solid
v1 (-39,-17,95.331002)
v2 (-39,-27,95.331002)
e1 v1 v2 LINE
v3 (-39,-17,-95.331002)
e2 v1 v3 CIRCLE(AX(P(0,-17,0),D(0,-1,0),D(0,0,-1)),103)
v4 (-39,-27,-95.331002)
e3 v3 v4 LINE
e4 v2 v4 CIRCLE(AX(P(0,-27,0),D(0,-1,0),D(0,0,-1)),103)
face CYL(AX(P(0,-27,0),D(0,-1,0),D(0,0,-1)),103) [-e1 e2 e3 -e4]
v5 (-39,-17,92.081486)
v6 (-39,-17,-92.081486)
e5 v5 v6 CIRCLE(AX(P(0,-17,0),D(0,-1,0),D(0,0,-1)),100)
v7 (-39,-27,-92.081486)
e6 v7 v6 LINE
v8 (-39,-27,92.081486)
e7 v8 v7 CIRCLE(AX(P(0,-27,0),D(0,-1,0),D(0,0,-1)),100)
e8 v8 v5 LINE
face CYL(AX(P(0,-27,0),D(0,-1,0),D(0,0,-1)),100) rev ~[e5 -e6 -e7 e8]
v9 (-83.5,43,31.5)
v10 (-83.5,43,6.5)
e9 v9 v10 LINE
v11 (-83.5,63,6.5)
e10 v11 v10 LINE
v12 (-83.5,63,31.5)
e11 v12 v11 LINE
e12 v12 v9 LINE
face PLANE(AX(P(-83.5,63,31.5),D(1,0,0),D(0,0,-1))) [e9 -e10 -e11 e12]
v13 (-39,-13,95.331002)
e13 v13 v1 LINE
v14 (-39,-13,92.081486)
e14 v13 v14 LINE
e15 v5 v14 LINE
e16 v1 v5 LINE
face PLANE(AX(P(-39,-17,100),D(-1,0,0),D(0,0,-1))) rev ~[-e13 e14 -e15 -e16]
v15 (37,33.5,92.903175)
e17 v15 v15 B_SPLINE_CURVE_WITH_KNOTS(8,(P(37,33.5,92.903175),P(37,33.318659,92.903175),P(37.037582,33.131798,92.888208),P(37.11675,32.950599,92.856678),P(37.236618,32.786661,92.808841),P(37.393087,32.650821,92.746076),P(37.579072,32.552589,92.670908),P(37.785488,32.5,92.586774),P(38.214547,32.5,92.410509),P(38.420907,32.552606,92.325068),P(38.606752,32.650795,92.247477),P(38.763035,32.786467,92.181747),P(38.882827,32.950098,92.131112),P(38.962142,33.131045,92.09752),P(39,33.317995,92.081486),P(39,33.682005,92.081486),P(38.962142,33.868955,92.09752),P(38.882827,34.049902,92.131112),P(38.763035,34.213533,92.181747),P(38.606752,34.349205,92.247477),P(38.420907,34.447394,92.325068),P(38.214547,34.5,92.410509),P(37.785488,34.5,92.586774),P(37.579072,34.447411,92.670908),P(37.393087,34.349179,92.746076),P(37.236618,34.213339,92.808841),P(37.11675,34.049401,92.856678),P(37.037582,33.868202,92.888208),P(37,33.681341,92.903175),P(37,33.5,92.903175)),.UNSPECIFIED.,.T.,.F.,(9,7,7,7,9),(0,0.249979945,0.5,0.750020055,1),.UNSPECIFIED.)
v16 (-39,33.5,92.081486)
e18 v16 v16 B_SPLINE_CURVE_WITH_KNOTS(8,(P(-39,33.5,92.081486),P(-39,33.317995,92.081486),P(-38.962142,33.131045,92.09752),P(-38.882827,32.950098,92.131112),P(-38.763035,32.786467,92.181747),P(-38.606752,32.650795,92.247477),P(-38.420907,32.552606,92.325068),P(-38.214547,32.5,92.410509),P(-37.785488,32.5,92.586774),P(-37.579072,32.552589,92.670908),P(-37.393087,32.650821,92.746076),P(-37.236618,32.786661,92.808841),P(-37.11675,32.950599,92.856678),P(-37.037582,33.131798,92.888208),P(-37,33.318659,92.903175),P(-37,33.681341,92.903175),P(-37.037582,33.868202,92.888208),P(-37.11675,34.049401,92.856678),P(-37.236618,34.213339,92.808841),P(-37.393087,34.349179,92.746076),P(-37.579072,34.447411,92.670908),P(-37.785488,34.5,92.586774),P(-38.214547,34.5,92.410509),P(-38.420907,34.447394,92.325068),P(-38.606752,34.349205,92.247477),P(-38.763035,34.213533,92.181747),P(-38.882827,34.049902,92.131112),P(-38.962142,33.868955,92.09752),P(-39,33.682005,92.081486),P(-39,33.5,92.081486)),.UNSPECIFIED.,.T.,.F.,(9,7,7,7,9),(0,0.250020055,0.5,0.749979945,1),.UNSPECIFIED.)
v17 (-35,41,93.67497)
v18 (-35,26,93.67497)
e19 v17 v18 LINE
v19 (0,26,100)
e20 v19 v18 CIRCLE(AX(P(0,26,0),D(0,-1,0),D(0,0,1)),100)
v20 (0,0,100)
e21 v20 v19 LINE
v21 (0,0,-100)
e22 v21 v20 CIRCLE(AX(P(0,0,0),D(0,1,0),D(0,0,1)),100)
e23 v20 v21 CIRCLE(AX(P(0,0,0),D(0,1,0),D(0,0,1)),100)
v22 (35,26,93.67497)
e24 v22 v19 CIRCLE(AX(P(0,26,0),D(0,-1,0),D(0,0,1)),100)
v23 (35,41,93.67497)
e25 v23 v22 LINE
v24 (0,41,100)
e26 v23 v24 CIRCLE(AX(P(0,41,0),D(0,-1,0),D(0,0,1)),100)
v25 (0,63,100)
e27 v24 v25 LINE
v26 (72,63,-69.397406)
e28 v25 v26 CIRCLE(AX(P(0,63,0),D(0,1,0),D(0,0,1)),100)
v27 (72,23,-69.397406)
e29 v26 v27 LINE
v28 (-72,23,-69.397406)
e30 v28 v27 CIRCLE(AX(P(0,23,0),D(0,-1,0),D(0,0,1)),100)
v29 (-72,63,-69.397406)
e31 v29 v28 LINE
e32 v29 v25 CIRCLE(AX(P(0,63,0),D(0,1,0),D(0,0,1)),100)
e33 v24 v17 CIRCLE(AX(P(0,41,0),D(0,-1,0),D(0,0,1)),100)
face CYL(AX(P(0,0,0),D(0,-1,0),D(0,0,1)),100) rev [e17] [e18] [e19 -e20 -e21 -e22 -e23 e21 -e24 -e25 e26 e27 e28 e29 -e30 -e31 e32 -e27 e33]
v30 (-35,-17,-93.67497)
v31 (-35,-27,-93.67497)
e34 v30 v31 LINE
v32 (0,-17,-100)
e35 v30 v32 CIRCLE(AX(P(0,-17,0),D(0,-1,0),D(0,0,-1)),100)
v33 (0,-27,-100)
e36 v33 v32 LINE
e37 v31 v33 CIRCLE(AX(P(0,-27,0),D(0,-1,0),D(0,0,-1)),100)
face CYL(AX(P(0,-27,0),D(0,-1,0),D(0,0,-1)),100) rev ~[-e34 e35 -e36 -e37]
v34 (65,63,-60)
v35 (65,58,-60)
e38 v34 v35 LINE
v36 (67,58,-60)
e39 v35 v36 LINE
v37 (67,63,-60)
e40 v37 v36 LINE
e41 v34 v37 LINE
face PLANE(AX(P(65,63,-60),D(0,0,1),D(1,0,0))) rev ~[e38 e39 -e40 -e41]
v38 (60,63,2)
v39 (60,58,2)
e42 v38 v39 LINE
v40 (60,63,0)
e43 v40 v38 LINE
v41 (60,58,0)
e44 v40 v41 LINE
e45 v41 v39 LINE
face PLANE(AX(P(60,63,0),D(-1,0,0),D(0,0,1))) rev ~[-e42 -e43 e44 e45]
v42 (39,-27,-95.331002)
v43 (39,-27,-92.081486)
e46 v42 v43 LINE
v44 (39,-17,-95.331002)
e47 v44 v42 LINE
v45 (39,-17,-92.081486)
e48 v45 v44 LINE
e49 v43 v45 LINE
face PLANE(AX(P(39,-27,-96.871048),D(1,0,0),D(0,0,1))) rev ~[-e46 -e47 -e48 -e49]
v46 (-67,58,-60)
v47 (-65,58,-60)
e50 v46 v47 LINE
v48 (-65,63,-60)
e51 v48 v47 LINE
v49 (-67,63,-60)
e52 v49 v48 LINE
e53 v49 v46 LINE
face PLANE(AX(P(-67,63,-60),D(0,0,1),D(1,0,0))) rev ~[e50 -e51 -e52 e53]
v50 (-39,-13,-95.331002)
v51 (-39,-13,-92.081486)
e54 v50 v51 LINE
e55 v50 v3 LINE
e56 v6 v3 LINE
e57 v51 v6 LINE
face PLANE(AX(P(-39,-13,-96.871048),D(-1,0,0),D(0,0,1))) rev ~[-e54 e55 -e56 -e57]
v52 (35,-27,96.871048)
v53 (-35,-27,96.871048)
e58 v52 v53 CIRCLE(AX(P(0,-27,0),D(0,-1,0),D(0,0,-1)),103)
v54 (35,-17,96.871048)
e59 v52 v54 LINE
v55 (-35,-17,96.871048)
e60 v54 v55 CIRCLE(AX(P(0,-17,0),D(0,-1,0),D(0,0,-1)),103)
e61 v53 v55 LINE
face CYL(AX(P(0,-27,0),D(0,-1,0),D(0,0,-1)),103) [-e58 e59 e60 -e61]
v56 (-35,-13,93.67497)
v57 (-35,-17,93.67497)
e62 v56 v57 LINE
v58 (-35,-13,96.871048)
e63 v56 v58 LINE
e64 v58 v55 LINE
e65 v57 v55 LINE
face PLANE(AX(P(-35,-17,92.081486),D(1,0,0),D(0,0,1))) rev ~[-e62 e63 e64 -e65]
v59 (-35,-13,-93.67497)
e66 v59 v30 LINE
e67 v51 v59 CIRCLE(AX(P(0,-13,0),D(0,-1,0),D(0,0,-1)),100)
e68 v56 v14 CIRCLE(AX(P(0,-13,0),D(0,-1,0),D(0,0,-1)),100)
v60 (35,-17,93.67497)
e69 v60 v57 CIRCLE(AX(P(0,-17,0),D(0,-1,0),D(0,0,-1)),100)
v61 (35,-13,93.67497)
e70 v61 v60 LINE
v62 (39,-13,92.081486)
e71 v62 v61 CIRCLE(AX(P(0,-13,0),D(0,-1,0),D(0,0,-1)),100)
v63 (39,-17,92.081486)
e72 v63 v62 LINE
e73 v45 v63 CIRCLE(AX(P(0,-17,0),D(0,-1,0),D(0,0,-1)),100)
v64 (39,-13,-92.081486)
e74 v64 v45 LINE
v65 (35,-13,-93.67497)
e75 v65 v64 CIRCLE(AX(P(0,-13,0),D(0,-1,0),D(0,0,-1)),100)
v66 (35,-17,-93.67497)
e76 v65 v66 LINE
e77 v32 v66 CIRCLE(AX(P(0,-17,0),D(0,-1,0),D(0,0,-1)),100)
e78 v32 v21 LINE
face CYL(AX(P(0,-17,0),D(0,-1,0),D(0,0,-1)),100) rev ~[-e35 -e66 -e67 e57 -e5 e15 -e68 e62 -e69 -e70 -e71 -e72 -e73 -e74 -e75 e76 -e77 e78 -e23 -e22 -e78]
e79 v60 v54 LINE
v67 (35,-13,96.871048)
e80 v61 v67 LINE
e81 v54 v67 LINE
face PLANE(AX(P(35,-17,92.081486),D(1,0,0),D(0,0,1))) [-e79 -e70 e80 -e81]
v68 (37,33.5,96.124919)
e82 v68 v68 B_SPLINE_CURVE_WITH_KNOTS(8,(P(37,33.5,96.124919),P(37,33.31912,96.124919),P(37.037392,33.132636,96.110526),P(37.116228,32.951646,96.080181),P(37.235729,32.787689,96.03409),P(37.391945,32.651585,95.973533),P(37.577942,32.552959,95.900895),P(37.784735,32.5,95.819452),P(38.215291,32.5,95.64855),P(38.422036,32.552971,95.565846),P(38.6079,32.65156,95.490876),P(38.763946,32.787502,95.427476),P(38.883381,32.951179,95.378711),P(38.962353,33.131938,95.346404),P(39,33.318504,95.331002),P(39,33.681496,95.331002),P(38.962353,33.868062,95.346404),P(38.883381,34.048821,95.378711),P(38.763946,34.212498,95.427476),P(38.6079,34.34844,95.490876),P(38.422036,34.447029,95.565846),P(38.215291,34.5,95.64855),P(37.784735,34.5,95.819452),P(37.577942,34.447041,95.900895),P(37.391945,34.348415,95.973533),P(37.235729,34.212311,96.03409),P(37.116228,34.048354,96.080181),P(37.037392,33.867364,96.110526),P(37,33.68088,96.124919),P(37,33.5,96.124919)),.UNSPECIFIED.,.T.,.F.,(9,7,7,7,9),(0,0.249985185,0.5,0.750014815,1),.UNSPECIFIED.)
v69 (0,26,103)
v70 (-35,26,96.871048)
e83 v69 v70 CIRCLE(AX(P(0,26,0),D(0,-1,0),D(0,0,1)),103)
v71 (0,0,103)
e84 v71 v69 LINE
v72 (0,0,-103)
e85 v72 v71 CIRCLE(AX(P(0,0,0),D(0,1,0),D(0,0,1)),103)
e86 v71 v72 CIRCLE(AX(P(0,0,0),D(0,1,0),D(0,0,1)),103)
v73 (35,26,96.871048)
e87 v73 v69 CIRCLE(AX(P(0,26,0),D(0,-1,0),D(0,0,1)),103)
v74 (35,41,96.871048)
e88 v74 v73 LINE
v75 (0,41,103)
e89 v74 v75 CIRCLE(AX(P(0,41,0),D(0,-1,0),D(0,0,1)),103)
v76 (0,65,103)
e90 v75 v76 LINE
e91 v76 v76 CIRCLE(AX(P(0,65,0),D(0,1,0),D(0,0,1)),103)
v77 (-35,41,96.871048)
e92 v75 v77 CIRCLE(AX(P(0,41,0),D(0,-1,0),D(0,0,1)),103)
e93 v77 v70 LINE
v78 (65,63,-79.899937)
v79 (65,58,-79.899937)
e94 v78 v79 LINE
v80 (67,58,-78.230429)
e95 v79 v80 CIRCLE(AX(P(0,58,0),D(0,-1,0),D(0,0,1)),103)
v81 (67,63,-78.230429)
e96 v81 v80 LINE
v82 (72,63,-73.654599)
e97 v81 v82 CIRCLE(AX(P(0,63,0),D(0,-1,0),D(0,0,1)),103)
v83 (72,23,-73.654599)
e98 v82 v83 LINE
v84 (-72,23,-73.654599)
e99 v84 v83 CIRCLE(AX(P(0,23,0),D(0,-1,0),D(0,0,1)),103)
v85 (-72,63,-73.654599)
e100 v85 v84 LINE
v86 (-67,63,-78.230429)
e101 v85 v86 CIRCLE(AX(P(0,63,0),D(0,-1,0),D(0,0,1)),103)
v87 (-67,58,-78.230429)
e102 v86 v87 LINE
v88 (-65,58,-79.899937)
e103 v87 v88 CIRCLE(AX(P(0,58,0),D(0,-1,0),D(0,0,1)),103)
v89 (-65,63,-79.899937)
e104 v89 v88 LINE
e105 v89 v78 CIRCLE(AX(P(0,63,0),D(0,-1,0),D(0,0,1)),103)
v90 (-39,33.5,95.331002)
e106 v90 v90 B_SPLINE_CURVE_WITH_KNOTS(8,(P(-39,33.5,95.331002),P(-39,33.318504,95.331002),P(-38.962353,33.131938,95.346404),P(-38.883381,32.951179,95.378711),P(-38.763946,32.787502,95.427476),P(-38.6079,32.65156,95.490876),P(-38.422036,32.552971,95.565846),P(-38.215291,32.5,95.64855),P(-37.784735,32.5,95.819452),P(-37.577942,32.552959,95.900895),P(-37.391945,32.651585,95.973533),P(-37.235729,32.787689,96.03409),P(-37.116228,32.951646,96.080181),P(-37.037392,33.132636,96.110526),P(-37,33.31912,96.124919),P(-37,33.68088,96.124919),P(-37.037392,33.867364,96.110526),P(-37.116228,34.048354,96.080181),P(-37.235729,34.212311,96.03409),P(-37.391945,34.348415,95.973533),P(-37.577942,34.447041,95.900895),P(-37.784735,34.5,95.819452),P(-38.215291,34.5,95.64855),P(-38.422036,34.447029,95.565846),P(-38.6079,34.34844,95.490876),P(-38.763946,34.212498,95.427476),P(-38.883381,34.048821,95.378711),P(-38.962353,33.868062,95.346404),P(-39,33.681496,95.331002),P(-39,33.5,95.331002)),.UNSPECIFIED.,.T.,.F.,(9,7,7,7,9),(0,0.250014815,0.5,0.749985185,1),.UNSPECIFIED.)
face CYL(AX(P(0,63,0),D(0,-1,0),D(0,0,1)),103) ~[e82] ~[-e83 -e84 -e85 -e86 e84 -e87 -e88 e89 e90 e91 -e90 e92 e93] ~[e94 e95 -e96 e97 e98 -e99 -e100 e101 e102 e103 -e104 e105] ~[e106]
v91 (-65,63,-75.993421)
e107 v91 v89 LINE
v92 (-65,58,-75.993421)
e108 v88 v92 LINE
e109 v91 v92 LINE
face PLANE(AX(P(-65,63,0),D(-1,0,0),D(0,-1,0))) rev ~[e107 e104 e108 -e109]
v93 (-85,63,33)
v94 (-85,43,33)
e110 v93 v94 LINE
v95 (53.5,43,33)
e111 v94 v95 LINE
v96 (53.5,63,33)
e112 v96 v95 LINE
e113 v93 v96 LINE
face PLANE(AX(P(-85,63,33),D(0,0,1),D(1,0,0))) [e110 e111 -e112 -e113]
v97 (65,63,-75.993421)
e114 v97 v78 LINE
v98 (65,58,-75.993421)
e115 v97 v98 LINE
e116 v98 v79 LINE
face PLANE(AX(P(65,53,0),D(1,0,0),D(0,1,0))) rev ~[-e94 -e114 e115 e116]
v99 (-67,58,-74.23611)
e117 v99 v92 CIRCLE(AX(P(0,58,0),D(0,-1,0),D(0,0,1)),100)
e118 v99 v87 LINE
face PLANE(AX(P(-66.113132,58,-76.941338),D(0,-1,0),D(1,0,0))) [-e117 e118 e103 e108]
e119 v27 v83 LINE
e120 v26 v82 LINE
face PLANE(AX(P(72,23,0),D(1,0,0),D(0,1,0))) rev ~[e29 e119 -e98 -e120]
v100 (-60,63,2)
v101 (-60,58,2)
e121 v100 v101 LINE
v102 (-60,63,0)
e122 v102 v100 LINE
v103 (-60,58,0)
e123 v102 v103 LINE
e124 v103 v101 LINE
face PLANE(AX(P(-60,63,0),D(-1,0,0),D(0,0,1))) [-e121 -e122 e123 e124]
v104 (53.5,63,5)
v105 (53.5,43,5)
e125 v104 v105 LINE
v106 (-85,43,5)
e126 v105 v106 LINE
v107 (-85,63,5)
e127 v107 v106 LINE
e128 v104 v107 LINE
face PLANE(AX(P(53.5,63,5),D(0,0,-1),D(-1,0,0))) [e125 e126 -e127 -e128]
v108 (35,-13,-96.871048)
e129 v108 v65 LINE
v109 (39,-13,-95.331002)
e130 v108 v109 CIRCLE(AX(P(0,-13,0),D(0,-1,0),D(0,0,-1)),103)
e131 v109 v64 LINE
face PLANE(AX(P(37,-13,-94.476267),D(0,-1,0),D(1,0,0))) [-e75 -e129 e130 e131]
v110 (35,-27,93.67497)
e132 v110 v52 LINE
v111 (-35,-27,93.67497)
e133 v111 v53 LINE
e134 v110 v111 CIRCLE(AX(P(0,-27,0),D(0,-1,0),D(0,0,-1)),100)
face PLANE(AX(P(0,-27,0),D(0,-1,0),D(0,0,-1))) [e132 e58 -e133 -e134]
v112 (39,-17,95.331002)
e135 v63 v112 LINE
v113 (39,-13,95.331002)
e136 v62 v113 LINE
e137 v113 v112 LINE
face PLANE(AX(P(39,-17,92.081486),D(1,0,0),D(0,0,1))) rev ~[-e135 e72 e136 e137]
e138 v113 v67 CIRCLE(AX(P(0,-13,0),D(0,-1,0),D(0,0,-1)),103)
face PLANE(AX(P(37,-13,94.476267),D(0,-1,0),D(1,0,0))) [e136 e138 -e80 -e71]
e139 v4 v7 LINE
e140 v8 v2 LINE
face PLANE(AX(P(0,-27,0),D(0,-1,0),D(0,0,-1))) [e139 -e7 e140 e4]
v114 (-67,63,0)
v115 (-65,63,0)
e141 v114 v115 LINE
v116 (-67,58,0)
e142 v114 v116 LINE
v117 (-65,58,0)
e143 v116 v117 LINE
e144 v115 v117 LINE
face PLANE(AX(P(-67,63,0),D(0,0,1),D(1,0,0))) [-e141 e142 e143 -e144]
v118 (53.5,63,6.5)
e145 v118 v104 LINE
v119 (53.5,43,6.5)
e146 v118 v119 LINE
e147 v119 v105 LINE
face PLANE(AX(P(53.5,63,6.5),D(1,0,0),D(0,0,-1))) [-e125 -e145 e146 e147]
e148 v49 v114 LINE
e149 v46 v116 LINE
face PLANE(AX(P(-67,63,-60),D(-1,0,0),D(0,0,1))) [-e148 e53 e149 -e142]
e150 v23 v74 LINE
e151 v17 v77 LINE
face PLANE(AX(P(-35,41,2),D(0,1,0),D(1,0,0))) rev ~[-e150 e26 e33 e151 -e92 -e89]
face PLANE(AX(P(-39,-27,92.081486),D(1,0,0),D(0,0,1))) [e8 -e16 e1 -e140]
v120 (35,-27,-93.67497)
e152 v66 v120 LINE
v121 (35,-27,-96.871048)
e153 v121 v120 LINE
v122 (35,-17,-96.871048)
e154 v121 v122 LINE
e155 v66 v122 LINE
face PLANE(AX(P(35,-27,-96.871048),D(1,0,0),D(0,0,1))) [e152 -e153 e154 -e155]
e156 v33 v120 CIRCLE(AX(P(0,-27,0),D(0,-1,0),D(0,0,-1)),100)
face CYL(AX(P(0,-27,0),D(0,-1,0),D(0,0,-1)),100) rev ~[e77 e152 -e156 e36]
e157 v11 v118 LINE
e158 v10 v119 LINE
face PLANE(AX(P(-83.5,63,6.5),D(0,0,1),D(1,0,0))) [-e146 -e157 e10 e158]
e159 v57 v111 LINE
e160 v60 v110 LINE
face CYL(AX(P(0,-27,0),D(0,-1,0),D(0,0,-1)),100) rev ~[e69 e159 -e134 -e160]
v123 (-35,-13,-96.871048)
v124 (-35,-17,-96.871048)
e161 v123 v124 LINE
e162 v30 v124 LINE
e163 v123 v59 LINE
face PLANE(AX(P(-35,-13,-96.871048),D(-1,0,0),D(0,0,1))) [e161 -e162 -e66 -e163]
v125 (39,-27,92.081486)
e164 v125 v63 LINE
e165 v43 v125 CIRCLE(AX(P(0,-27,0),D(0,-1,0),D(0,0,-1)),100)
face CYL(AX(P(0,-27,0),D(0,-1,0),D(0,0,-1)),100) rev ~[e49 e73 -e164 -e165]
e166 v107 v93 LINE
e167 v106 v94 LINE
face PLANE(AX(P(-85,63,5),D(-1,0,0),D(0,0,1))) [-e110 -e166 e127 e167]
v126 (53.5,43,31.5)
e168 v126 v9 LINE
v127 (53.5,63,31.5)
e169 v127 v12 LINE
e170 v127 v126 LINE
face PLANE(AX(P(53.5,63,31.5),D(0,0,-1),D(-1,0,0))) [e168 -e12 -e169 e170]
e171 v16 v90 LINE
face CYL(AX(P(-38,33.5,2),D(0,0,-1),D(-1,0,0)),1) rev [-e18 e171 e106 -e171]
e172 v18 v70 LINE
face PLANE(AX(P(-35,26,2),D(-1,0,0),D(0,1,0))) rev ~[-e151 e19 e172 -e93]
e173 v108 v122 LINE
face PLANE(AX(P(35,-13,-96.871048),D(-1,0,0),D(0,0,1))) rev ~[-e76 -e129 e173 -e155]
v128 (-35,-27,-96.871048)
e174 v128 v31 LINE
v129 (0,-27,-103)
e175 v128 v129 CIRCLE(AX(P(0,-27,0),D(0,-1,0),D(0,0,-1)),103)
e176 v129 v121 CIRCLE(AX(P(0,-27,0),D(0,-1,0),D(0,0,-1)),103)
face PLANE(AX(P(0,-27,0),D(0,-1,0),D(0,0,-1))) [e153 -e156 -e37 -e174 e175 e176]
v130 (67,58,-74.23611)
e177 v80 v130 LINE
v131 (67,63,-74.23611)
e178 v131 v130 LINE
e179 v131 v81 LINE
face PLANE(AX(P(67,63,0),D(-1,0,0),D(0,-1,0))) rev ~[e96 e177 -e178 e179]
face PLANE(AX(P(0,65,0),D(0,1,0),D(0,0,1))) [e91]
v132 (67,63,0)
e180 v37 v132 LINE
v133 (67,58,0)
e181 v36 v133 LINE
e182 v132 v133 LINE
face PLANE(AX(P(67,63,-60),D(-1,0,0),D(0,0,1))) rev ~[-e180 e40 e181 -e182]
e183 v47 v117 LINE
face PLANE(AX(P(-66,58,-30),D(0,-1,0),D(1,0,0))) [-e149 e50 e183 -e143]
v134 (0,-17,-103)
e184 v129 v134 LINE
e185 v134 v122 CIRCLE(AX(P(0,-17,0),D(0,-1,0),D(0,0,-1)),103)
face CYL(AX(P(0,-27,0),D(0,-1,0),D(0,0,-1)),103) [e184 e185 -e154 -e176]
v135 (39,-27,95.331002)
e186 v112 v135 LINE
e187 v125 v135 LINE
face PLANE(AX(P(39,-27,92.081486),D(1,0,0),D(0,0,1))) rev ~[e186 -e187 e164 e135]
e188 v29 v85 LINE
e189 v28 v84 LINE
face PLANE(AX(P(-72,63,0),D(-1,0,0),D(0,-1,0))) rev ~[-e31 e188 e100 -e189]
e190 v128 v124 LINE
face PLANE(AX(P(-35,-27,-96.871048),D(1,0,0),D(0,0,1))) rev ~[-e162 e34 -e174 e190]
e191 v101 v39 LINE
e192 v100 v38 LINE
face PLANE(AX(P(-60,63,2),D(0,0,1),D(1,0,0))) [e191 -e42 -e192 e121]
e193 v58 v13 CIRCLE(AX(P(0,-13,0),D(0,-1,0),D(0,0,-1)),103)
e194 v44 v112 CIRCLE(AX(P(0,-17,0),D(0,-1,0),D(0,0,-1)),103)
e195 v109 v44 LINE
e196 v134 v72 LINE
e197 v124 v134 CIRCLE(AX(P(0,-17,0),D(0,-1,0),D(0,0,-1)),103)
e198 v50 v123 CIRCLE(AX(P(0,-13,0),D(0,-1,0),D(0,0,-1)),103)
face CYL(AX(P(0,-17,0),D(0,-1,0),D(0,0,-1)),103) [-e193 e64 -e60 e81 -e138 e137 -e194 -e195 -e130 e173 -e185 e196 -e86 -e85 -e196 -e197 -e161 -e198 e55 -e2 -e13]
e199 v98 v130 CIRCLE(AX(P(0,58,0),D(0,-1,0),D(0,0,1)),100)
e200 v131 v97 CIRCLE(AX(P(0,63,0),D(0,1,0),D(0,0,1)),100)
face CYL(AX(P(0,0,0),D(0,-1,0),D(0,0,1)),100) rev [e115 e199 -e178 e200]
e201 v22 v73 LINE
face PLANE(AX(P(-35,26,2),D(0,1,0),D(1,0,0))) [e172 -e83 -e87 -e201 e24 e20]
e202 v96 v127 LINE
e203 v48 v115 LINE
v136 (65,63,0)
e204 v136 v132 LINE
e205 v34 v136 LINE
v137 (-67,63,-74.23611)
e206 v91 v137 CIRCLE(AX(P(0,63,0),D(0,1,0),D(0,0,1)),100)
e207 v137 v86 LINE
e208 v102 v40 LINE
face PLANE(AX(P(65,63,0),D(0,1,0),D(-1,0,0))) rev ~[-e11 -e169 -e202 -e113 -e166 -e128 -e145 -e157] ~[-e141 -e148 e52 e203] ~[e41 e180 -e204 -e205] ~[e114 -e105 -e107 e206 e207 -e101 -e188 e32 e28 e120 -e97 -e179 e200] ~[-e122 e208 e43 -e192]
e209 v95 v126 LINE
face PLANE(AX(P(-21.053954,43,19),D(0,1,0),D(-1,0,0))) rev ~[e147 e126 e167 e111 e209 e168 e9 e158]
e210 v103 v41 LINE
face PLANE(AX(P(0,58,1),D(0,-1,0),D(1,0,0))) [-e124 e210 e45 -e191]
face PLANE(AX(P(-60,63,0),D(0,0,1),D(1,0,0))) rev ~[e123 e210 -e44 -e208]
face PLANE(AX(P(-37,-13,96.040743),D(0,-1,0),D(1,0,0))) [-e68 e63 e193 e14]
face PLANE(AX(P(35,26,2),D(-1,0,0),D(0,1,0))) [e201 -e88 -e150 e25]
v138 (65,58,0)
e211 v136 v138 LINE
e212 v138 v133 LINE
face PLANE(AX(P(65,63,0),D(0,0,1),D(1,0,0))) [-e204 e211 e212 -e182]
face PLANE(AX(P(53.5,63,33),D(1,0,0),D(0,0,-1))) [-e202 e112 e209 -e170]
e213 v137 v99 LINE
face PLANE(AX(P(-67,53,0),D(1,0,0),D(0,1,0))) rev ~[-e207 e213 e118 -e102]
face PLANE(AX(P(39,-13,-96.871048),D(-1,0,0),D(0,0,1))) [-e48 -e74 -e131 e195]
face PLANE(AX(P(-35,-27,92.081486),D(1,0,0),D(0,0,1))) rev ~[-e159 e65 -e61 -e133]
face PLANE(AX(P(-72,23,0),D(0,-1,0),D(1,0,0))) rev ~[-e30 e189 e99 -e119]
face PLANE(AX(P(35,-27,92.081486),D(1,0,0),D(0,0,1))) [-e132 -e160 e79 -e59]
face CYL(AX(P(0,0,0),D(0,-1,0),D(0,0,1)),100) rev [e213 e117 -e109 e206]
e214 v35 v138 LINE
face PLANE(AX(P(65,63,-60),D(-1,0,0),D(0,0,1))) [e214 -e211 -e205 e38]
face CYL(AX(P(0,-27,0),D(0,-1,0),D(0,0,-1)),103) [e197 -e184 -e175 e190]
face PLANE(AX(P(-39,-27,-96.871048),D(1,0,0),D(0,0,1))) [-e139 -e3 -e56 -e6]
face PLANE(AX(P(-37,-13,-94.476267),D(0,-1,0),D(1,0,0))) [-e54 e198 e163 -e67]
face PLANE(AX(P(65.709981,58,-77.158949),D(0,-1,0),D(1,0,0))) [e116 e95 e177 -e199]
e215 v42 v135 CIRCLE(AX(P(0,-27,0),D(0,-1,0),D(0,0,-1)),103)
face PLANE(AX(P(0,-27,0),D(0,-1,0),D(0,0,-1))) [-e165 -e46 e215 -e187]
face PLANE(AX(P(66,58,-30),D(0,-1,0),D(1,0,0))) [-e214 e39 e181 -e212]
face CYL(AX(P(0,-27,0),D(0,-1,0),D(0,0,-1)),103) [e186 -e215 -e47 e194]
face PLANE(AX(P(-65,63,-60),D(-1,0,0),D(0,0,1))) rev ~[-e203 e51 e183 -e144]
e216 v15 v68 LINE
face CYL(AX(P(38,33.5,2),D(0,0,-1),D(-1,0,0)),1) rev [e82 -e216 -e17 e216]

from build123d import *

# Parameters (mm, degrees)
SKETCH_1_R               = 103
SKETCH_1_R_2             = 100
EXTRUDE_1_DEPTH          = 63
SKETCH_2_R               = 103
EXTRUDE_2_DEPTH          = 2
SKETCH_4_W               = 2
SKETCH_4_H               = 60
SKETCH_4_W_2             = 120
SKETCH_4_H_2             = 2
EXTRUDE_3_DEPTH          = 10
SKETCH_5_R               = 1
SKETCH_5_W               = 70
SKETCH_5_H               = 15
CUT_EXTRUDE_1_DEPTH      = 1000
EXTRUDE_4_DEPTH          = 20
CUT_EXTRUDE_2_DEPTH      = 150
SKETCH_10_W              = 120
SKETCH_10_H              = 2
SKETCH_10_W_2            = 2
SKETCH_10_H_2            = 60
CUT_EXTRUDE_3_DEPTH      = 5
SKETCH_11_W              = 3.150152901
SKETCH_11_H              = 6.664382079
SKETCH_11_W_2            = 3.458582199
SKETCH_11_H_2            = 6.22916057
CUT_EXTRUDE_4_DEPTH      = 5
EXTRUDE_START            = 17
SKETCH_13_R              = 103
SKETCH_13_R_2            = 100
EXTRUDE_5_DEPTH          = 17
SKETCH_15_W              = 4
SKETCH_15_H              = 4.789562653
CUT_EXTRUDE_5_DEPTH      = 4
CUT_EXTRUDE_6_DEPTH      = 15
CUT_EXTRUDE_6_DEPTH_BACK = 4
SKETCH_16_W              = 4
SKETCH_16_H              = 4.789562653
EXTRUDE_START_2          = 10
SKETCH_18_R              = 103
SKETCH_18_R_2            = 100
EXTRUDE_6_DEPTH          = 10
SKETCH_19_W              = 4
SKETCH_19_H              = 4.789562653
CUT_EXTRUDE_7_DEPTH      = 10


with BuildPart() as part:
    # 草图1 → 凸台-拉伸1 (new body)
    with BuildSketch(Plane(origin=(0, 0, 0), x_dir=(1, 0, 0), z_dir=(0, 1, 0))):
        with Locations(Location((0, 0, 0), (0, 0, 270))):
            Circle(SKETCH_1_R)
        with Locations(Location((0, 0, 0), (0, 0, 270))):
            Circle(SKETCH_1_R_2, mode=Mode.SUBTRACT)
    extrude(amount=EXTRUDE_1_DEPTH)

    # 草图2 → 凸台-拉伸2 (add)
    with BuildSketch(Plane(origin=(0, 63, 0), x_dir=(1, 0, 0), z_dir=(0, 1, 0))):
        with Locations(Location((0, 0, 0), (0, 0, 270))):
            Circle(SKETCH_2_R)
    extrude(amount=EXTRUDE_2_DEPTH)

    # 草图4 → 凸台-拉伸3 (add)
    with BuildSketch(Plane.XZ.offset(-63)):
        with Locations((-66, -30)):
            Rectangle(SKETCH_4_W, SKETCH_4_H)
        with Locations((66, -30)):
            Rectangle(SKETCH_4_W, SKETCH_4_H)
        with Locations((0, 1)):
            Rectangle(SKETCH_4_W_2, SKETCH_4_H_2)
    extrude(amount=EXTRUDE_3_DEPTH)

    # 草图5 → 切除-拉伸1 (cut)
    with BuildSketch(Plane.XY.offset(2)):
        with Locations(Location((-38, 33.5, 0), (0, 0, 180))):
            Circle(SKETCH_5_R)
        with Locations(Location((38, 33.5, 0), (0, 0, 180))):
            Circle(SKETCH_5_R)
        with Locations((0, 33.5)):
            Rectangle(SKETCH_5_W, SKETCH_5_H)
    extrude(amount=CUT_EXTRUDE_1_DEPTH, mode=Mode.SUBTRACT)

    # 草图6 → 凸台-拉伸4 (add)
    with BuildSketch(Plane.XZ.offset(-63)):
        Polygon((-85, 5), (-85, 33), (53.5, 33), (53.5, 31.5), (-83.5, 31.5), (-83.5, 6.5), (53.5, 6.5), (53.5, 5), align=None)
    extrude(amount=EXTRUDE_4_DEPTH)

    # 草图7 → 切除-拉伸2 (cut)
    with BuildSketch(Plane(origin=(0, 0, 0), x_dir=(-1, 0, 0), z_dir=(0, 0, -1))):
        Polygon((-72, 63), (-67, 63), (-67, 53), (-65, 53), (-65, 63), (65, 63), (65, 53), (67, 53), (67, 63), (72, 63), (72, 23), (-72, 23), align=None)
    extrude(amount=CUT_EXTRUDE_2_DEPTH, mode=Mode.SUBTRACT)

    # 草图10 → 切除-拉伸3 (cut)
    with BuildSketch(Plane.XZ.offset(-53)):
        with Locations((0, 1)):
            Rectangle(SKETCH_10_W, SKETCH_10_H)
        with Locations((-66, -30)):
            Rectangle(SKETCH_10_W_2, SKETCH_10_H_2)
        with Locations((66, -30)):
            Rectangle(SKETCH_10_W_2, SKETCH_10_H_2)
    extrude(amount=-CUT_EXTRUDE_3_DEPTH, mode=Mode.SUBTRACT)

    # 草图11 → 切除-拉伸4 (cut)
    with BuildSketch(Plane.XZ.offset(-53)):
        with Locations((-66.11313156, -76.941337865)):
            Rectangle(SKETCH_11_W, SKETCH_11_H)
        with Locations((65.709980809, -77.158948619)):
            Rectangle(SKETCH_11_W_2, SKETCH_11_H_2)
    extrude(amount=-CUT_EXTRUDE_4_DEPTH, mode=Mode.SUBTRACT)

    # 草图13 → 凸台-拉伸5 (add)
    with BuildSketch(Plane.XZ.offset(EXTRUDE_START)):
        with Locations(Location((0, 0, 0), (0, 0, 270))):
            Circle(SKETCH_13_R)
        with Locations(Location((0, 0, 0), (0, 0, 270))):
            Circle(SKETCH_13_R_2, mode=Mode.SUBTRACT)
    extrude(amount=-EXTRUDE_5_DEPTH)

    # 草图15 → 切除-拉伸5 (cut)
    with BuildSketch(Plane.XZ.offset(17)):
        Polygon((-39, 95.331002303), (-39, 92.081485653), (-35, 92.081485653), (-35, 100), (-39, 100), align=None)
        with Locations((37, 94.476266979)):
            Rectangle(SKETCH_15_W, SKETCH_15_H)
    extrude(amount=-CUT_EXTRUDE_5_DEPTH, mode=Mode.SUBTRACT)

    # 草图16 → 切除-拉伸6 (cut, two sides: drawn at the far end of the back side and taken through both)
    with BuildSketch(Plane.XZ.offset(17).offset(-CUT_EXTRUDE_6_DEPTH_BACK)):
        with Locations((37, -94.476266979)):
            Rectangle(SKETCH_16_W, SKETCH_16_H)
        with Locations((-37, -94.476266979)):
            Rectangle(SKETCH_16_W, SKETCH_16_H)
    extrude(amount=CUT_EXTRUDE_6_DEPTH + CUT_EXTRUDE_6_DEPTH_BACK, mode=Mode.SUBTRACT)

    # 草图18 → 凸台-拉伸6 (add)
    with BuildSketch(Plane.XZ.offset(17).offset(EXTRUDE_START_2)):
        with Locations(Location((0, 0, 0), (0, 0, 270))):
            Circle(SKETCH_18_R)
        with Locations(Location((0, 0, 0), (0, 0, 270))):
            Circle(SKETCH_18_R_2, mode=Mode.SUBTRACT)
    extrude(amount=-EXTRUDE_6_DEPTH)

    # 草图19 → 切除-拉伸7 (cut)
    with BuildSketch(Plane.XZ.offset(27)):
        with Locations((-37, -94.476266979)):
            Rectangle(SKETCH_19_W, SKETCH_19_H)
        with Locations((37, -94.476266979)):
            Rectangle(SKETCH_19_W, SKETCH_19_H)
        with Locations((-37, 94.476266979)):
            Rectangle(SKETCH_19_W, SKETCH_19_H)
        with Locations((37, 94.476266979)):
            Rectangle(SKETCH_19_W, SKETCH_19_H)
    extrude(amount=-CUT_EXTRUDE_7_DEPTH, mode=Mode.SUBTRACT)


solid = part.part
